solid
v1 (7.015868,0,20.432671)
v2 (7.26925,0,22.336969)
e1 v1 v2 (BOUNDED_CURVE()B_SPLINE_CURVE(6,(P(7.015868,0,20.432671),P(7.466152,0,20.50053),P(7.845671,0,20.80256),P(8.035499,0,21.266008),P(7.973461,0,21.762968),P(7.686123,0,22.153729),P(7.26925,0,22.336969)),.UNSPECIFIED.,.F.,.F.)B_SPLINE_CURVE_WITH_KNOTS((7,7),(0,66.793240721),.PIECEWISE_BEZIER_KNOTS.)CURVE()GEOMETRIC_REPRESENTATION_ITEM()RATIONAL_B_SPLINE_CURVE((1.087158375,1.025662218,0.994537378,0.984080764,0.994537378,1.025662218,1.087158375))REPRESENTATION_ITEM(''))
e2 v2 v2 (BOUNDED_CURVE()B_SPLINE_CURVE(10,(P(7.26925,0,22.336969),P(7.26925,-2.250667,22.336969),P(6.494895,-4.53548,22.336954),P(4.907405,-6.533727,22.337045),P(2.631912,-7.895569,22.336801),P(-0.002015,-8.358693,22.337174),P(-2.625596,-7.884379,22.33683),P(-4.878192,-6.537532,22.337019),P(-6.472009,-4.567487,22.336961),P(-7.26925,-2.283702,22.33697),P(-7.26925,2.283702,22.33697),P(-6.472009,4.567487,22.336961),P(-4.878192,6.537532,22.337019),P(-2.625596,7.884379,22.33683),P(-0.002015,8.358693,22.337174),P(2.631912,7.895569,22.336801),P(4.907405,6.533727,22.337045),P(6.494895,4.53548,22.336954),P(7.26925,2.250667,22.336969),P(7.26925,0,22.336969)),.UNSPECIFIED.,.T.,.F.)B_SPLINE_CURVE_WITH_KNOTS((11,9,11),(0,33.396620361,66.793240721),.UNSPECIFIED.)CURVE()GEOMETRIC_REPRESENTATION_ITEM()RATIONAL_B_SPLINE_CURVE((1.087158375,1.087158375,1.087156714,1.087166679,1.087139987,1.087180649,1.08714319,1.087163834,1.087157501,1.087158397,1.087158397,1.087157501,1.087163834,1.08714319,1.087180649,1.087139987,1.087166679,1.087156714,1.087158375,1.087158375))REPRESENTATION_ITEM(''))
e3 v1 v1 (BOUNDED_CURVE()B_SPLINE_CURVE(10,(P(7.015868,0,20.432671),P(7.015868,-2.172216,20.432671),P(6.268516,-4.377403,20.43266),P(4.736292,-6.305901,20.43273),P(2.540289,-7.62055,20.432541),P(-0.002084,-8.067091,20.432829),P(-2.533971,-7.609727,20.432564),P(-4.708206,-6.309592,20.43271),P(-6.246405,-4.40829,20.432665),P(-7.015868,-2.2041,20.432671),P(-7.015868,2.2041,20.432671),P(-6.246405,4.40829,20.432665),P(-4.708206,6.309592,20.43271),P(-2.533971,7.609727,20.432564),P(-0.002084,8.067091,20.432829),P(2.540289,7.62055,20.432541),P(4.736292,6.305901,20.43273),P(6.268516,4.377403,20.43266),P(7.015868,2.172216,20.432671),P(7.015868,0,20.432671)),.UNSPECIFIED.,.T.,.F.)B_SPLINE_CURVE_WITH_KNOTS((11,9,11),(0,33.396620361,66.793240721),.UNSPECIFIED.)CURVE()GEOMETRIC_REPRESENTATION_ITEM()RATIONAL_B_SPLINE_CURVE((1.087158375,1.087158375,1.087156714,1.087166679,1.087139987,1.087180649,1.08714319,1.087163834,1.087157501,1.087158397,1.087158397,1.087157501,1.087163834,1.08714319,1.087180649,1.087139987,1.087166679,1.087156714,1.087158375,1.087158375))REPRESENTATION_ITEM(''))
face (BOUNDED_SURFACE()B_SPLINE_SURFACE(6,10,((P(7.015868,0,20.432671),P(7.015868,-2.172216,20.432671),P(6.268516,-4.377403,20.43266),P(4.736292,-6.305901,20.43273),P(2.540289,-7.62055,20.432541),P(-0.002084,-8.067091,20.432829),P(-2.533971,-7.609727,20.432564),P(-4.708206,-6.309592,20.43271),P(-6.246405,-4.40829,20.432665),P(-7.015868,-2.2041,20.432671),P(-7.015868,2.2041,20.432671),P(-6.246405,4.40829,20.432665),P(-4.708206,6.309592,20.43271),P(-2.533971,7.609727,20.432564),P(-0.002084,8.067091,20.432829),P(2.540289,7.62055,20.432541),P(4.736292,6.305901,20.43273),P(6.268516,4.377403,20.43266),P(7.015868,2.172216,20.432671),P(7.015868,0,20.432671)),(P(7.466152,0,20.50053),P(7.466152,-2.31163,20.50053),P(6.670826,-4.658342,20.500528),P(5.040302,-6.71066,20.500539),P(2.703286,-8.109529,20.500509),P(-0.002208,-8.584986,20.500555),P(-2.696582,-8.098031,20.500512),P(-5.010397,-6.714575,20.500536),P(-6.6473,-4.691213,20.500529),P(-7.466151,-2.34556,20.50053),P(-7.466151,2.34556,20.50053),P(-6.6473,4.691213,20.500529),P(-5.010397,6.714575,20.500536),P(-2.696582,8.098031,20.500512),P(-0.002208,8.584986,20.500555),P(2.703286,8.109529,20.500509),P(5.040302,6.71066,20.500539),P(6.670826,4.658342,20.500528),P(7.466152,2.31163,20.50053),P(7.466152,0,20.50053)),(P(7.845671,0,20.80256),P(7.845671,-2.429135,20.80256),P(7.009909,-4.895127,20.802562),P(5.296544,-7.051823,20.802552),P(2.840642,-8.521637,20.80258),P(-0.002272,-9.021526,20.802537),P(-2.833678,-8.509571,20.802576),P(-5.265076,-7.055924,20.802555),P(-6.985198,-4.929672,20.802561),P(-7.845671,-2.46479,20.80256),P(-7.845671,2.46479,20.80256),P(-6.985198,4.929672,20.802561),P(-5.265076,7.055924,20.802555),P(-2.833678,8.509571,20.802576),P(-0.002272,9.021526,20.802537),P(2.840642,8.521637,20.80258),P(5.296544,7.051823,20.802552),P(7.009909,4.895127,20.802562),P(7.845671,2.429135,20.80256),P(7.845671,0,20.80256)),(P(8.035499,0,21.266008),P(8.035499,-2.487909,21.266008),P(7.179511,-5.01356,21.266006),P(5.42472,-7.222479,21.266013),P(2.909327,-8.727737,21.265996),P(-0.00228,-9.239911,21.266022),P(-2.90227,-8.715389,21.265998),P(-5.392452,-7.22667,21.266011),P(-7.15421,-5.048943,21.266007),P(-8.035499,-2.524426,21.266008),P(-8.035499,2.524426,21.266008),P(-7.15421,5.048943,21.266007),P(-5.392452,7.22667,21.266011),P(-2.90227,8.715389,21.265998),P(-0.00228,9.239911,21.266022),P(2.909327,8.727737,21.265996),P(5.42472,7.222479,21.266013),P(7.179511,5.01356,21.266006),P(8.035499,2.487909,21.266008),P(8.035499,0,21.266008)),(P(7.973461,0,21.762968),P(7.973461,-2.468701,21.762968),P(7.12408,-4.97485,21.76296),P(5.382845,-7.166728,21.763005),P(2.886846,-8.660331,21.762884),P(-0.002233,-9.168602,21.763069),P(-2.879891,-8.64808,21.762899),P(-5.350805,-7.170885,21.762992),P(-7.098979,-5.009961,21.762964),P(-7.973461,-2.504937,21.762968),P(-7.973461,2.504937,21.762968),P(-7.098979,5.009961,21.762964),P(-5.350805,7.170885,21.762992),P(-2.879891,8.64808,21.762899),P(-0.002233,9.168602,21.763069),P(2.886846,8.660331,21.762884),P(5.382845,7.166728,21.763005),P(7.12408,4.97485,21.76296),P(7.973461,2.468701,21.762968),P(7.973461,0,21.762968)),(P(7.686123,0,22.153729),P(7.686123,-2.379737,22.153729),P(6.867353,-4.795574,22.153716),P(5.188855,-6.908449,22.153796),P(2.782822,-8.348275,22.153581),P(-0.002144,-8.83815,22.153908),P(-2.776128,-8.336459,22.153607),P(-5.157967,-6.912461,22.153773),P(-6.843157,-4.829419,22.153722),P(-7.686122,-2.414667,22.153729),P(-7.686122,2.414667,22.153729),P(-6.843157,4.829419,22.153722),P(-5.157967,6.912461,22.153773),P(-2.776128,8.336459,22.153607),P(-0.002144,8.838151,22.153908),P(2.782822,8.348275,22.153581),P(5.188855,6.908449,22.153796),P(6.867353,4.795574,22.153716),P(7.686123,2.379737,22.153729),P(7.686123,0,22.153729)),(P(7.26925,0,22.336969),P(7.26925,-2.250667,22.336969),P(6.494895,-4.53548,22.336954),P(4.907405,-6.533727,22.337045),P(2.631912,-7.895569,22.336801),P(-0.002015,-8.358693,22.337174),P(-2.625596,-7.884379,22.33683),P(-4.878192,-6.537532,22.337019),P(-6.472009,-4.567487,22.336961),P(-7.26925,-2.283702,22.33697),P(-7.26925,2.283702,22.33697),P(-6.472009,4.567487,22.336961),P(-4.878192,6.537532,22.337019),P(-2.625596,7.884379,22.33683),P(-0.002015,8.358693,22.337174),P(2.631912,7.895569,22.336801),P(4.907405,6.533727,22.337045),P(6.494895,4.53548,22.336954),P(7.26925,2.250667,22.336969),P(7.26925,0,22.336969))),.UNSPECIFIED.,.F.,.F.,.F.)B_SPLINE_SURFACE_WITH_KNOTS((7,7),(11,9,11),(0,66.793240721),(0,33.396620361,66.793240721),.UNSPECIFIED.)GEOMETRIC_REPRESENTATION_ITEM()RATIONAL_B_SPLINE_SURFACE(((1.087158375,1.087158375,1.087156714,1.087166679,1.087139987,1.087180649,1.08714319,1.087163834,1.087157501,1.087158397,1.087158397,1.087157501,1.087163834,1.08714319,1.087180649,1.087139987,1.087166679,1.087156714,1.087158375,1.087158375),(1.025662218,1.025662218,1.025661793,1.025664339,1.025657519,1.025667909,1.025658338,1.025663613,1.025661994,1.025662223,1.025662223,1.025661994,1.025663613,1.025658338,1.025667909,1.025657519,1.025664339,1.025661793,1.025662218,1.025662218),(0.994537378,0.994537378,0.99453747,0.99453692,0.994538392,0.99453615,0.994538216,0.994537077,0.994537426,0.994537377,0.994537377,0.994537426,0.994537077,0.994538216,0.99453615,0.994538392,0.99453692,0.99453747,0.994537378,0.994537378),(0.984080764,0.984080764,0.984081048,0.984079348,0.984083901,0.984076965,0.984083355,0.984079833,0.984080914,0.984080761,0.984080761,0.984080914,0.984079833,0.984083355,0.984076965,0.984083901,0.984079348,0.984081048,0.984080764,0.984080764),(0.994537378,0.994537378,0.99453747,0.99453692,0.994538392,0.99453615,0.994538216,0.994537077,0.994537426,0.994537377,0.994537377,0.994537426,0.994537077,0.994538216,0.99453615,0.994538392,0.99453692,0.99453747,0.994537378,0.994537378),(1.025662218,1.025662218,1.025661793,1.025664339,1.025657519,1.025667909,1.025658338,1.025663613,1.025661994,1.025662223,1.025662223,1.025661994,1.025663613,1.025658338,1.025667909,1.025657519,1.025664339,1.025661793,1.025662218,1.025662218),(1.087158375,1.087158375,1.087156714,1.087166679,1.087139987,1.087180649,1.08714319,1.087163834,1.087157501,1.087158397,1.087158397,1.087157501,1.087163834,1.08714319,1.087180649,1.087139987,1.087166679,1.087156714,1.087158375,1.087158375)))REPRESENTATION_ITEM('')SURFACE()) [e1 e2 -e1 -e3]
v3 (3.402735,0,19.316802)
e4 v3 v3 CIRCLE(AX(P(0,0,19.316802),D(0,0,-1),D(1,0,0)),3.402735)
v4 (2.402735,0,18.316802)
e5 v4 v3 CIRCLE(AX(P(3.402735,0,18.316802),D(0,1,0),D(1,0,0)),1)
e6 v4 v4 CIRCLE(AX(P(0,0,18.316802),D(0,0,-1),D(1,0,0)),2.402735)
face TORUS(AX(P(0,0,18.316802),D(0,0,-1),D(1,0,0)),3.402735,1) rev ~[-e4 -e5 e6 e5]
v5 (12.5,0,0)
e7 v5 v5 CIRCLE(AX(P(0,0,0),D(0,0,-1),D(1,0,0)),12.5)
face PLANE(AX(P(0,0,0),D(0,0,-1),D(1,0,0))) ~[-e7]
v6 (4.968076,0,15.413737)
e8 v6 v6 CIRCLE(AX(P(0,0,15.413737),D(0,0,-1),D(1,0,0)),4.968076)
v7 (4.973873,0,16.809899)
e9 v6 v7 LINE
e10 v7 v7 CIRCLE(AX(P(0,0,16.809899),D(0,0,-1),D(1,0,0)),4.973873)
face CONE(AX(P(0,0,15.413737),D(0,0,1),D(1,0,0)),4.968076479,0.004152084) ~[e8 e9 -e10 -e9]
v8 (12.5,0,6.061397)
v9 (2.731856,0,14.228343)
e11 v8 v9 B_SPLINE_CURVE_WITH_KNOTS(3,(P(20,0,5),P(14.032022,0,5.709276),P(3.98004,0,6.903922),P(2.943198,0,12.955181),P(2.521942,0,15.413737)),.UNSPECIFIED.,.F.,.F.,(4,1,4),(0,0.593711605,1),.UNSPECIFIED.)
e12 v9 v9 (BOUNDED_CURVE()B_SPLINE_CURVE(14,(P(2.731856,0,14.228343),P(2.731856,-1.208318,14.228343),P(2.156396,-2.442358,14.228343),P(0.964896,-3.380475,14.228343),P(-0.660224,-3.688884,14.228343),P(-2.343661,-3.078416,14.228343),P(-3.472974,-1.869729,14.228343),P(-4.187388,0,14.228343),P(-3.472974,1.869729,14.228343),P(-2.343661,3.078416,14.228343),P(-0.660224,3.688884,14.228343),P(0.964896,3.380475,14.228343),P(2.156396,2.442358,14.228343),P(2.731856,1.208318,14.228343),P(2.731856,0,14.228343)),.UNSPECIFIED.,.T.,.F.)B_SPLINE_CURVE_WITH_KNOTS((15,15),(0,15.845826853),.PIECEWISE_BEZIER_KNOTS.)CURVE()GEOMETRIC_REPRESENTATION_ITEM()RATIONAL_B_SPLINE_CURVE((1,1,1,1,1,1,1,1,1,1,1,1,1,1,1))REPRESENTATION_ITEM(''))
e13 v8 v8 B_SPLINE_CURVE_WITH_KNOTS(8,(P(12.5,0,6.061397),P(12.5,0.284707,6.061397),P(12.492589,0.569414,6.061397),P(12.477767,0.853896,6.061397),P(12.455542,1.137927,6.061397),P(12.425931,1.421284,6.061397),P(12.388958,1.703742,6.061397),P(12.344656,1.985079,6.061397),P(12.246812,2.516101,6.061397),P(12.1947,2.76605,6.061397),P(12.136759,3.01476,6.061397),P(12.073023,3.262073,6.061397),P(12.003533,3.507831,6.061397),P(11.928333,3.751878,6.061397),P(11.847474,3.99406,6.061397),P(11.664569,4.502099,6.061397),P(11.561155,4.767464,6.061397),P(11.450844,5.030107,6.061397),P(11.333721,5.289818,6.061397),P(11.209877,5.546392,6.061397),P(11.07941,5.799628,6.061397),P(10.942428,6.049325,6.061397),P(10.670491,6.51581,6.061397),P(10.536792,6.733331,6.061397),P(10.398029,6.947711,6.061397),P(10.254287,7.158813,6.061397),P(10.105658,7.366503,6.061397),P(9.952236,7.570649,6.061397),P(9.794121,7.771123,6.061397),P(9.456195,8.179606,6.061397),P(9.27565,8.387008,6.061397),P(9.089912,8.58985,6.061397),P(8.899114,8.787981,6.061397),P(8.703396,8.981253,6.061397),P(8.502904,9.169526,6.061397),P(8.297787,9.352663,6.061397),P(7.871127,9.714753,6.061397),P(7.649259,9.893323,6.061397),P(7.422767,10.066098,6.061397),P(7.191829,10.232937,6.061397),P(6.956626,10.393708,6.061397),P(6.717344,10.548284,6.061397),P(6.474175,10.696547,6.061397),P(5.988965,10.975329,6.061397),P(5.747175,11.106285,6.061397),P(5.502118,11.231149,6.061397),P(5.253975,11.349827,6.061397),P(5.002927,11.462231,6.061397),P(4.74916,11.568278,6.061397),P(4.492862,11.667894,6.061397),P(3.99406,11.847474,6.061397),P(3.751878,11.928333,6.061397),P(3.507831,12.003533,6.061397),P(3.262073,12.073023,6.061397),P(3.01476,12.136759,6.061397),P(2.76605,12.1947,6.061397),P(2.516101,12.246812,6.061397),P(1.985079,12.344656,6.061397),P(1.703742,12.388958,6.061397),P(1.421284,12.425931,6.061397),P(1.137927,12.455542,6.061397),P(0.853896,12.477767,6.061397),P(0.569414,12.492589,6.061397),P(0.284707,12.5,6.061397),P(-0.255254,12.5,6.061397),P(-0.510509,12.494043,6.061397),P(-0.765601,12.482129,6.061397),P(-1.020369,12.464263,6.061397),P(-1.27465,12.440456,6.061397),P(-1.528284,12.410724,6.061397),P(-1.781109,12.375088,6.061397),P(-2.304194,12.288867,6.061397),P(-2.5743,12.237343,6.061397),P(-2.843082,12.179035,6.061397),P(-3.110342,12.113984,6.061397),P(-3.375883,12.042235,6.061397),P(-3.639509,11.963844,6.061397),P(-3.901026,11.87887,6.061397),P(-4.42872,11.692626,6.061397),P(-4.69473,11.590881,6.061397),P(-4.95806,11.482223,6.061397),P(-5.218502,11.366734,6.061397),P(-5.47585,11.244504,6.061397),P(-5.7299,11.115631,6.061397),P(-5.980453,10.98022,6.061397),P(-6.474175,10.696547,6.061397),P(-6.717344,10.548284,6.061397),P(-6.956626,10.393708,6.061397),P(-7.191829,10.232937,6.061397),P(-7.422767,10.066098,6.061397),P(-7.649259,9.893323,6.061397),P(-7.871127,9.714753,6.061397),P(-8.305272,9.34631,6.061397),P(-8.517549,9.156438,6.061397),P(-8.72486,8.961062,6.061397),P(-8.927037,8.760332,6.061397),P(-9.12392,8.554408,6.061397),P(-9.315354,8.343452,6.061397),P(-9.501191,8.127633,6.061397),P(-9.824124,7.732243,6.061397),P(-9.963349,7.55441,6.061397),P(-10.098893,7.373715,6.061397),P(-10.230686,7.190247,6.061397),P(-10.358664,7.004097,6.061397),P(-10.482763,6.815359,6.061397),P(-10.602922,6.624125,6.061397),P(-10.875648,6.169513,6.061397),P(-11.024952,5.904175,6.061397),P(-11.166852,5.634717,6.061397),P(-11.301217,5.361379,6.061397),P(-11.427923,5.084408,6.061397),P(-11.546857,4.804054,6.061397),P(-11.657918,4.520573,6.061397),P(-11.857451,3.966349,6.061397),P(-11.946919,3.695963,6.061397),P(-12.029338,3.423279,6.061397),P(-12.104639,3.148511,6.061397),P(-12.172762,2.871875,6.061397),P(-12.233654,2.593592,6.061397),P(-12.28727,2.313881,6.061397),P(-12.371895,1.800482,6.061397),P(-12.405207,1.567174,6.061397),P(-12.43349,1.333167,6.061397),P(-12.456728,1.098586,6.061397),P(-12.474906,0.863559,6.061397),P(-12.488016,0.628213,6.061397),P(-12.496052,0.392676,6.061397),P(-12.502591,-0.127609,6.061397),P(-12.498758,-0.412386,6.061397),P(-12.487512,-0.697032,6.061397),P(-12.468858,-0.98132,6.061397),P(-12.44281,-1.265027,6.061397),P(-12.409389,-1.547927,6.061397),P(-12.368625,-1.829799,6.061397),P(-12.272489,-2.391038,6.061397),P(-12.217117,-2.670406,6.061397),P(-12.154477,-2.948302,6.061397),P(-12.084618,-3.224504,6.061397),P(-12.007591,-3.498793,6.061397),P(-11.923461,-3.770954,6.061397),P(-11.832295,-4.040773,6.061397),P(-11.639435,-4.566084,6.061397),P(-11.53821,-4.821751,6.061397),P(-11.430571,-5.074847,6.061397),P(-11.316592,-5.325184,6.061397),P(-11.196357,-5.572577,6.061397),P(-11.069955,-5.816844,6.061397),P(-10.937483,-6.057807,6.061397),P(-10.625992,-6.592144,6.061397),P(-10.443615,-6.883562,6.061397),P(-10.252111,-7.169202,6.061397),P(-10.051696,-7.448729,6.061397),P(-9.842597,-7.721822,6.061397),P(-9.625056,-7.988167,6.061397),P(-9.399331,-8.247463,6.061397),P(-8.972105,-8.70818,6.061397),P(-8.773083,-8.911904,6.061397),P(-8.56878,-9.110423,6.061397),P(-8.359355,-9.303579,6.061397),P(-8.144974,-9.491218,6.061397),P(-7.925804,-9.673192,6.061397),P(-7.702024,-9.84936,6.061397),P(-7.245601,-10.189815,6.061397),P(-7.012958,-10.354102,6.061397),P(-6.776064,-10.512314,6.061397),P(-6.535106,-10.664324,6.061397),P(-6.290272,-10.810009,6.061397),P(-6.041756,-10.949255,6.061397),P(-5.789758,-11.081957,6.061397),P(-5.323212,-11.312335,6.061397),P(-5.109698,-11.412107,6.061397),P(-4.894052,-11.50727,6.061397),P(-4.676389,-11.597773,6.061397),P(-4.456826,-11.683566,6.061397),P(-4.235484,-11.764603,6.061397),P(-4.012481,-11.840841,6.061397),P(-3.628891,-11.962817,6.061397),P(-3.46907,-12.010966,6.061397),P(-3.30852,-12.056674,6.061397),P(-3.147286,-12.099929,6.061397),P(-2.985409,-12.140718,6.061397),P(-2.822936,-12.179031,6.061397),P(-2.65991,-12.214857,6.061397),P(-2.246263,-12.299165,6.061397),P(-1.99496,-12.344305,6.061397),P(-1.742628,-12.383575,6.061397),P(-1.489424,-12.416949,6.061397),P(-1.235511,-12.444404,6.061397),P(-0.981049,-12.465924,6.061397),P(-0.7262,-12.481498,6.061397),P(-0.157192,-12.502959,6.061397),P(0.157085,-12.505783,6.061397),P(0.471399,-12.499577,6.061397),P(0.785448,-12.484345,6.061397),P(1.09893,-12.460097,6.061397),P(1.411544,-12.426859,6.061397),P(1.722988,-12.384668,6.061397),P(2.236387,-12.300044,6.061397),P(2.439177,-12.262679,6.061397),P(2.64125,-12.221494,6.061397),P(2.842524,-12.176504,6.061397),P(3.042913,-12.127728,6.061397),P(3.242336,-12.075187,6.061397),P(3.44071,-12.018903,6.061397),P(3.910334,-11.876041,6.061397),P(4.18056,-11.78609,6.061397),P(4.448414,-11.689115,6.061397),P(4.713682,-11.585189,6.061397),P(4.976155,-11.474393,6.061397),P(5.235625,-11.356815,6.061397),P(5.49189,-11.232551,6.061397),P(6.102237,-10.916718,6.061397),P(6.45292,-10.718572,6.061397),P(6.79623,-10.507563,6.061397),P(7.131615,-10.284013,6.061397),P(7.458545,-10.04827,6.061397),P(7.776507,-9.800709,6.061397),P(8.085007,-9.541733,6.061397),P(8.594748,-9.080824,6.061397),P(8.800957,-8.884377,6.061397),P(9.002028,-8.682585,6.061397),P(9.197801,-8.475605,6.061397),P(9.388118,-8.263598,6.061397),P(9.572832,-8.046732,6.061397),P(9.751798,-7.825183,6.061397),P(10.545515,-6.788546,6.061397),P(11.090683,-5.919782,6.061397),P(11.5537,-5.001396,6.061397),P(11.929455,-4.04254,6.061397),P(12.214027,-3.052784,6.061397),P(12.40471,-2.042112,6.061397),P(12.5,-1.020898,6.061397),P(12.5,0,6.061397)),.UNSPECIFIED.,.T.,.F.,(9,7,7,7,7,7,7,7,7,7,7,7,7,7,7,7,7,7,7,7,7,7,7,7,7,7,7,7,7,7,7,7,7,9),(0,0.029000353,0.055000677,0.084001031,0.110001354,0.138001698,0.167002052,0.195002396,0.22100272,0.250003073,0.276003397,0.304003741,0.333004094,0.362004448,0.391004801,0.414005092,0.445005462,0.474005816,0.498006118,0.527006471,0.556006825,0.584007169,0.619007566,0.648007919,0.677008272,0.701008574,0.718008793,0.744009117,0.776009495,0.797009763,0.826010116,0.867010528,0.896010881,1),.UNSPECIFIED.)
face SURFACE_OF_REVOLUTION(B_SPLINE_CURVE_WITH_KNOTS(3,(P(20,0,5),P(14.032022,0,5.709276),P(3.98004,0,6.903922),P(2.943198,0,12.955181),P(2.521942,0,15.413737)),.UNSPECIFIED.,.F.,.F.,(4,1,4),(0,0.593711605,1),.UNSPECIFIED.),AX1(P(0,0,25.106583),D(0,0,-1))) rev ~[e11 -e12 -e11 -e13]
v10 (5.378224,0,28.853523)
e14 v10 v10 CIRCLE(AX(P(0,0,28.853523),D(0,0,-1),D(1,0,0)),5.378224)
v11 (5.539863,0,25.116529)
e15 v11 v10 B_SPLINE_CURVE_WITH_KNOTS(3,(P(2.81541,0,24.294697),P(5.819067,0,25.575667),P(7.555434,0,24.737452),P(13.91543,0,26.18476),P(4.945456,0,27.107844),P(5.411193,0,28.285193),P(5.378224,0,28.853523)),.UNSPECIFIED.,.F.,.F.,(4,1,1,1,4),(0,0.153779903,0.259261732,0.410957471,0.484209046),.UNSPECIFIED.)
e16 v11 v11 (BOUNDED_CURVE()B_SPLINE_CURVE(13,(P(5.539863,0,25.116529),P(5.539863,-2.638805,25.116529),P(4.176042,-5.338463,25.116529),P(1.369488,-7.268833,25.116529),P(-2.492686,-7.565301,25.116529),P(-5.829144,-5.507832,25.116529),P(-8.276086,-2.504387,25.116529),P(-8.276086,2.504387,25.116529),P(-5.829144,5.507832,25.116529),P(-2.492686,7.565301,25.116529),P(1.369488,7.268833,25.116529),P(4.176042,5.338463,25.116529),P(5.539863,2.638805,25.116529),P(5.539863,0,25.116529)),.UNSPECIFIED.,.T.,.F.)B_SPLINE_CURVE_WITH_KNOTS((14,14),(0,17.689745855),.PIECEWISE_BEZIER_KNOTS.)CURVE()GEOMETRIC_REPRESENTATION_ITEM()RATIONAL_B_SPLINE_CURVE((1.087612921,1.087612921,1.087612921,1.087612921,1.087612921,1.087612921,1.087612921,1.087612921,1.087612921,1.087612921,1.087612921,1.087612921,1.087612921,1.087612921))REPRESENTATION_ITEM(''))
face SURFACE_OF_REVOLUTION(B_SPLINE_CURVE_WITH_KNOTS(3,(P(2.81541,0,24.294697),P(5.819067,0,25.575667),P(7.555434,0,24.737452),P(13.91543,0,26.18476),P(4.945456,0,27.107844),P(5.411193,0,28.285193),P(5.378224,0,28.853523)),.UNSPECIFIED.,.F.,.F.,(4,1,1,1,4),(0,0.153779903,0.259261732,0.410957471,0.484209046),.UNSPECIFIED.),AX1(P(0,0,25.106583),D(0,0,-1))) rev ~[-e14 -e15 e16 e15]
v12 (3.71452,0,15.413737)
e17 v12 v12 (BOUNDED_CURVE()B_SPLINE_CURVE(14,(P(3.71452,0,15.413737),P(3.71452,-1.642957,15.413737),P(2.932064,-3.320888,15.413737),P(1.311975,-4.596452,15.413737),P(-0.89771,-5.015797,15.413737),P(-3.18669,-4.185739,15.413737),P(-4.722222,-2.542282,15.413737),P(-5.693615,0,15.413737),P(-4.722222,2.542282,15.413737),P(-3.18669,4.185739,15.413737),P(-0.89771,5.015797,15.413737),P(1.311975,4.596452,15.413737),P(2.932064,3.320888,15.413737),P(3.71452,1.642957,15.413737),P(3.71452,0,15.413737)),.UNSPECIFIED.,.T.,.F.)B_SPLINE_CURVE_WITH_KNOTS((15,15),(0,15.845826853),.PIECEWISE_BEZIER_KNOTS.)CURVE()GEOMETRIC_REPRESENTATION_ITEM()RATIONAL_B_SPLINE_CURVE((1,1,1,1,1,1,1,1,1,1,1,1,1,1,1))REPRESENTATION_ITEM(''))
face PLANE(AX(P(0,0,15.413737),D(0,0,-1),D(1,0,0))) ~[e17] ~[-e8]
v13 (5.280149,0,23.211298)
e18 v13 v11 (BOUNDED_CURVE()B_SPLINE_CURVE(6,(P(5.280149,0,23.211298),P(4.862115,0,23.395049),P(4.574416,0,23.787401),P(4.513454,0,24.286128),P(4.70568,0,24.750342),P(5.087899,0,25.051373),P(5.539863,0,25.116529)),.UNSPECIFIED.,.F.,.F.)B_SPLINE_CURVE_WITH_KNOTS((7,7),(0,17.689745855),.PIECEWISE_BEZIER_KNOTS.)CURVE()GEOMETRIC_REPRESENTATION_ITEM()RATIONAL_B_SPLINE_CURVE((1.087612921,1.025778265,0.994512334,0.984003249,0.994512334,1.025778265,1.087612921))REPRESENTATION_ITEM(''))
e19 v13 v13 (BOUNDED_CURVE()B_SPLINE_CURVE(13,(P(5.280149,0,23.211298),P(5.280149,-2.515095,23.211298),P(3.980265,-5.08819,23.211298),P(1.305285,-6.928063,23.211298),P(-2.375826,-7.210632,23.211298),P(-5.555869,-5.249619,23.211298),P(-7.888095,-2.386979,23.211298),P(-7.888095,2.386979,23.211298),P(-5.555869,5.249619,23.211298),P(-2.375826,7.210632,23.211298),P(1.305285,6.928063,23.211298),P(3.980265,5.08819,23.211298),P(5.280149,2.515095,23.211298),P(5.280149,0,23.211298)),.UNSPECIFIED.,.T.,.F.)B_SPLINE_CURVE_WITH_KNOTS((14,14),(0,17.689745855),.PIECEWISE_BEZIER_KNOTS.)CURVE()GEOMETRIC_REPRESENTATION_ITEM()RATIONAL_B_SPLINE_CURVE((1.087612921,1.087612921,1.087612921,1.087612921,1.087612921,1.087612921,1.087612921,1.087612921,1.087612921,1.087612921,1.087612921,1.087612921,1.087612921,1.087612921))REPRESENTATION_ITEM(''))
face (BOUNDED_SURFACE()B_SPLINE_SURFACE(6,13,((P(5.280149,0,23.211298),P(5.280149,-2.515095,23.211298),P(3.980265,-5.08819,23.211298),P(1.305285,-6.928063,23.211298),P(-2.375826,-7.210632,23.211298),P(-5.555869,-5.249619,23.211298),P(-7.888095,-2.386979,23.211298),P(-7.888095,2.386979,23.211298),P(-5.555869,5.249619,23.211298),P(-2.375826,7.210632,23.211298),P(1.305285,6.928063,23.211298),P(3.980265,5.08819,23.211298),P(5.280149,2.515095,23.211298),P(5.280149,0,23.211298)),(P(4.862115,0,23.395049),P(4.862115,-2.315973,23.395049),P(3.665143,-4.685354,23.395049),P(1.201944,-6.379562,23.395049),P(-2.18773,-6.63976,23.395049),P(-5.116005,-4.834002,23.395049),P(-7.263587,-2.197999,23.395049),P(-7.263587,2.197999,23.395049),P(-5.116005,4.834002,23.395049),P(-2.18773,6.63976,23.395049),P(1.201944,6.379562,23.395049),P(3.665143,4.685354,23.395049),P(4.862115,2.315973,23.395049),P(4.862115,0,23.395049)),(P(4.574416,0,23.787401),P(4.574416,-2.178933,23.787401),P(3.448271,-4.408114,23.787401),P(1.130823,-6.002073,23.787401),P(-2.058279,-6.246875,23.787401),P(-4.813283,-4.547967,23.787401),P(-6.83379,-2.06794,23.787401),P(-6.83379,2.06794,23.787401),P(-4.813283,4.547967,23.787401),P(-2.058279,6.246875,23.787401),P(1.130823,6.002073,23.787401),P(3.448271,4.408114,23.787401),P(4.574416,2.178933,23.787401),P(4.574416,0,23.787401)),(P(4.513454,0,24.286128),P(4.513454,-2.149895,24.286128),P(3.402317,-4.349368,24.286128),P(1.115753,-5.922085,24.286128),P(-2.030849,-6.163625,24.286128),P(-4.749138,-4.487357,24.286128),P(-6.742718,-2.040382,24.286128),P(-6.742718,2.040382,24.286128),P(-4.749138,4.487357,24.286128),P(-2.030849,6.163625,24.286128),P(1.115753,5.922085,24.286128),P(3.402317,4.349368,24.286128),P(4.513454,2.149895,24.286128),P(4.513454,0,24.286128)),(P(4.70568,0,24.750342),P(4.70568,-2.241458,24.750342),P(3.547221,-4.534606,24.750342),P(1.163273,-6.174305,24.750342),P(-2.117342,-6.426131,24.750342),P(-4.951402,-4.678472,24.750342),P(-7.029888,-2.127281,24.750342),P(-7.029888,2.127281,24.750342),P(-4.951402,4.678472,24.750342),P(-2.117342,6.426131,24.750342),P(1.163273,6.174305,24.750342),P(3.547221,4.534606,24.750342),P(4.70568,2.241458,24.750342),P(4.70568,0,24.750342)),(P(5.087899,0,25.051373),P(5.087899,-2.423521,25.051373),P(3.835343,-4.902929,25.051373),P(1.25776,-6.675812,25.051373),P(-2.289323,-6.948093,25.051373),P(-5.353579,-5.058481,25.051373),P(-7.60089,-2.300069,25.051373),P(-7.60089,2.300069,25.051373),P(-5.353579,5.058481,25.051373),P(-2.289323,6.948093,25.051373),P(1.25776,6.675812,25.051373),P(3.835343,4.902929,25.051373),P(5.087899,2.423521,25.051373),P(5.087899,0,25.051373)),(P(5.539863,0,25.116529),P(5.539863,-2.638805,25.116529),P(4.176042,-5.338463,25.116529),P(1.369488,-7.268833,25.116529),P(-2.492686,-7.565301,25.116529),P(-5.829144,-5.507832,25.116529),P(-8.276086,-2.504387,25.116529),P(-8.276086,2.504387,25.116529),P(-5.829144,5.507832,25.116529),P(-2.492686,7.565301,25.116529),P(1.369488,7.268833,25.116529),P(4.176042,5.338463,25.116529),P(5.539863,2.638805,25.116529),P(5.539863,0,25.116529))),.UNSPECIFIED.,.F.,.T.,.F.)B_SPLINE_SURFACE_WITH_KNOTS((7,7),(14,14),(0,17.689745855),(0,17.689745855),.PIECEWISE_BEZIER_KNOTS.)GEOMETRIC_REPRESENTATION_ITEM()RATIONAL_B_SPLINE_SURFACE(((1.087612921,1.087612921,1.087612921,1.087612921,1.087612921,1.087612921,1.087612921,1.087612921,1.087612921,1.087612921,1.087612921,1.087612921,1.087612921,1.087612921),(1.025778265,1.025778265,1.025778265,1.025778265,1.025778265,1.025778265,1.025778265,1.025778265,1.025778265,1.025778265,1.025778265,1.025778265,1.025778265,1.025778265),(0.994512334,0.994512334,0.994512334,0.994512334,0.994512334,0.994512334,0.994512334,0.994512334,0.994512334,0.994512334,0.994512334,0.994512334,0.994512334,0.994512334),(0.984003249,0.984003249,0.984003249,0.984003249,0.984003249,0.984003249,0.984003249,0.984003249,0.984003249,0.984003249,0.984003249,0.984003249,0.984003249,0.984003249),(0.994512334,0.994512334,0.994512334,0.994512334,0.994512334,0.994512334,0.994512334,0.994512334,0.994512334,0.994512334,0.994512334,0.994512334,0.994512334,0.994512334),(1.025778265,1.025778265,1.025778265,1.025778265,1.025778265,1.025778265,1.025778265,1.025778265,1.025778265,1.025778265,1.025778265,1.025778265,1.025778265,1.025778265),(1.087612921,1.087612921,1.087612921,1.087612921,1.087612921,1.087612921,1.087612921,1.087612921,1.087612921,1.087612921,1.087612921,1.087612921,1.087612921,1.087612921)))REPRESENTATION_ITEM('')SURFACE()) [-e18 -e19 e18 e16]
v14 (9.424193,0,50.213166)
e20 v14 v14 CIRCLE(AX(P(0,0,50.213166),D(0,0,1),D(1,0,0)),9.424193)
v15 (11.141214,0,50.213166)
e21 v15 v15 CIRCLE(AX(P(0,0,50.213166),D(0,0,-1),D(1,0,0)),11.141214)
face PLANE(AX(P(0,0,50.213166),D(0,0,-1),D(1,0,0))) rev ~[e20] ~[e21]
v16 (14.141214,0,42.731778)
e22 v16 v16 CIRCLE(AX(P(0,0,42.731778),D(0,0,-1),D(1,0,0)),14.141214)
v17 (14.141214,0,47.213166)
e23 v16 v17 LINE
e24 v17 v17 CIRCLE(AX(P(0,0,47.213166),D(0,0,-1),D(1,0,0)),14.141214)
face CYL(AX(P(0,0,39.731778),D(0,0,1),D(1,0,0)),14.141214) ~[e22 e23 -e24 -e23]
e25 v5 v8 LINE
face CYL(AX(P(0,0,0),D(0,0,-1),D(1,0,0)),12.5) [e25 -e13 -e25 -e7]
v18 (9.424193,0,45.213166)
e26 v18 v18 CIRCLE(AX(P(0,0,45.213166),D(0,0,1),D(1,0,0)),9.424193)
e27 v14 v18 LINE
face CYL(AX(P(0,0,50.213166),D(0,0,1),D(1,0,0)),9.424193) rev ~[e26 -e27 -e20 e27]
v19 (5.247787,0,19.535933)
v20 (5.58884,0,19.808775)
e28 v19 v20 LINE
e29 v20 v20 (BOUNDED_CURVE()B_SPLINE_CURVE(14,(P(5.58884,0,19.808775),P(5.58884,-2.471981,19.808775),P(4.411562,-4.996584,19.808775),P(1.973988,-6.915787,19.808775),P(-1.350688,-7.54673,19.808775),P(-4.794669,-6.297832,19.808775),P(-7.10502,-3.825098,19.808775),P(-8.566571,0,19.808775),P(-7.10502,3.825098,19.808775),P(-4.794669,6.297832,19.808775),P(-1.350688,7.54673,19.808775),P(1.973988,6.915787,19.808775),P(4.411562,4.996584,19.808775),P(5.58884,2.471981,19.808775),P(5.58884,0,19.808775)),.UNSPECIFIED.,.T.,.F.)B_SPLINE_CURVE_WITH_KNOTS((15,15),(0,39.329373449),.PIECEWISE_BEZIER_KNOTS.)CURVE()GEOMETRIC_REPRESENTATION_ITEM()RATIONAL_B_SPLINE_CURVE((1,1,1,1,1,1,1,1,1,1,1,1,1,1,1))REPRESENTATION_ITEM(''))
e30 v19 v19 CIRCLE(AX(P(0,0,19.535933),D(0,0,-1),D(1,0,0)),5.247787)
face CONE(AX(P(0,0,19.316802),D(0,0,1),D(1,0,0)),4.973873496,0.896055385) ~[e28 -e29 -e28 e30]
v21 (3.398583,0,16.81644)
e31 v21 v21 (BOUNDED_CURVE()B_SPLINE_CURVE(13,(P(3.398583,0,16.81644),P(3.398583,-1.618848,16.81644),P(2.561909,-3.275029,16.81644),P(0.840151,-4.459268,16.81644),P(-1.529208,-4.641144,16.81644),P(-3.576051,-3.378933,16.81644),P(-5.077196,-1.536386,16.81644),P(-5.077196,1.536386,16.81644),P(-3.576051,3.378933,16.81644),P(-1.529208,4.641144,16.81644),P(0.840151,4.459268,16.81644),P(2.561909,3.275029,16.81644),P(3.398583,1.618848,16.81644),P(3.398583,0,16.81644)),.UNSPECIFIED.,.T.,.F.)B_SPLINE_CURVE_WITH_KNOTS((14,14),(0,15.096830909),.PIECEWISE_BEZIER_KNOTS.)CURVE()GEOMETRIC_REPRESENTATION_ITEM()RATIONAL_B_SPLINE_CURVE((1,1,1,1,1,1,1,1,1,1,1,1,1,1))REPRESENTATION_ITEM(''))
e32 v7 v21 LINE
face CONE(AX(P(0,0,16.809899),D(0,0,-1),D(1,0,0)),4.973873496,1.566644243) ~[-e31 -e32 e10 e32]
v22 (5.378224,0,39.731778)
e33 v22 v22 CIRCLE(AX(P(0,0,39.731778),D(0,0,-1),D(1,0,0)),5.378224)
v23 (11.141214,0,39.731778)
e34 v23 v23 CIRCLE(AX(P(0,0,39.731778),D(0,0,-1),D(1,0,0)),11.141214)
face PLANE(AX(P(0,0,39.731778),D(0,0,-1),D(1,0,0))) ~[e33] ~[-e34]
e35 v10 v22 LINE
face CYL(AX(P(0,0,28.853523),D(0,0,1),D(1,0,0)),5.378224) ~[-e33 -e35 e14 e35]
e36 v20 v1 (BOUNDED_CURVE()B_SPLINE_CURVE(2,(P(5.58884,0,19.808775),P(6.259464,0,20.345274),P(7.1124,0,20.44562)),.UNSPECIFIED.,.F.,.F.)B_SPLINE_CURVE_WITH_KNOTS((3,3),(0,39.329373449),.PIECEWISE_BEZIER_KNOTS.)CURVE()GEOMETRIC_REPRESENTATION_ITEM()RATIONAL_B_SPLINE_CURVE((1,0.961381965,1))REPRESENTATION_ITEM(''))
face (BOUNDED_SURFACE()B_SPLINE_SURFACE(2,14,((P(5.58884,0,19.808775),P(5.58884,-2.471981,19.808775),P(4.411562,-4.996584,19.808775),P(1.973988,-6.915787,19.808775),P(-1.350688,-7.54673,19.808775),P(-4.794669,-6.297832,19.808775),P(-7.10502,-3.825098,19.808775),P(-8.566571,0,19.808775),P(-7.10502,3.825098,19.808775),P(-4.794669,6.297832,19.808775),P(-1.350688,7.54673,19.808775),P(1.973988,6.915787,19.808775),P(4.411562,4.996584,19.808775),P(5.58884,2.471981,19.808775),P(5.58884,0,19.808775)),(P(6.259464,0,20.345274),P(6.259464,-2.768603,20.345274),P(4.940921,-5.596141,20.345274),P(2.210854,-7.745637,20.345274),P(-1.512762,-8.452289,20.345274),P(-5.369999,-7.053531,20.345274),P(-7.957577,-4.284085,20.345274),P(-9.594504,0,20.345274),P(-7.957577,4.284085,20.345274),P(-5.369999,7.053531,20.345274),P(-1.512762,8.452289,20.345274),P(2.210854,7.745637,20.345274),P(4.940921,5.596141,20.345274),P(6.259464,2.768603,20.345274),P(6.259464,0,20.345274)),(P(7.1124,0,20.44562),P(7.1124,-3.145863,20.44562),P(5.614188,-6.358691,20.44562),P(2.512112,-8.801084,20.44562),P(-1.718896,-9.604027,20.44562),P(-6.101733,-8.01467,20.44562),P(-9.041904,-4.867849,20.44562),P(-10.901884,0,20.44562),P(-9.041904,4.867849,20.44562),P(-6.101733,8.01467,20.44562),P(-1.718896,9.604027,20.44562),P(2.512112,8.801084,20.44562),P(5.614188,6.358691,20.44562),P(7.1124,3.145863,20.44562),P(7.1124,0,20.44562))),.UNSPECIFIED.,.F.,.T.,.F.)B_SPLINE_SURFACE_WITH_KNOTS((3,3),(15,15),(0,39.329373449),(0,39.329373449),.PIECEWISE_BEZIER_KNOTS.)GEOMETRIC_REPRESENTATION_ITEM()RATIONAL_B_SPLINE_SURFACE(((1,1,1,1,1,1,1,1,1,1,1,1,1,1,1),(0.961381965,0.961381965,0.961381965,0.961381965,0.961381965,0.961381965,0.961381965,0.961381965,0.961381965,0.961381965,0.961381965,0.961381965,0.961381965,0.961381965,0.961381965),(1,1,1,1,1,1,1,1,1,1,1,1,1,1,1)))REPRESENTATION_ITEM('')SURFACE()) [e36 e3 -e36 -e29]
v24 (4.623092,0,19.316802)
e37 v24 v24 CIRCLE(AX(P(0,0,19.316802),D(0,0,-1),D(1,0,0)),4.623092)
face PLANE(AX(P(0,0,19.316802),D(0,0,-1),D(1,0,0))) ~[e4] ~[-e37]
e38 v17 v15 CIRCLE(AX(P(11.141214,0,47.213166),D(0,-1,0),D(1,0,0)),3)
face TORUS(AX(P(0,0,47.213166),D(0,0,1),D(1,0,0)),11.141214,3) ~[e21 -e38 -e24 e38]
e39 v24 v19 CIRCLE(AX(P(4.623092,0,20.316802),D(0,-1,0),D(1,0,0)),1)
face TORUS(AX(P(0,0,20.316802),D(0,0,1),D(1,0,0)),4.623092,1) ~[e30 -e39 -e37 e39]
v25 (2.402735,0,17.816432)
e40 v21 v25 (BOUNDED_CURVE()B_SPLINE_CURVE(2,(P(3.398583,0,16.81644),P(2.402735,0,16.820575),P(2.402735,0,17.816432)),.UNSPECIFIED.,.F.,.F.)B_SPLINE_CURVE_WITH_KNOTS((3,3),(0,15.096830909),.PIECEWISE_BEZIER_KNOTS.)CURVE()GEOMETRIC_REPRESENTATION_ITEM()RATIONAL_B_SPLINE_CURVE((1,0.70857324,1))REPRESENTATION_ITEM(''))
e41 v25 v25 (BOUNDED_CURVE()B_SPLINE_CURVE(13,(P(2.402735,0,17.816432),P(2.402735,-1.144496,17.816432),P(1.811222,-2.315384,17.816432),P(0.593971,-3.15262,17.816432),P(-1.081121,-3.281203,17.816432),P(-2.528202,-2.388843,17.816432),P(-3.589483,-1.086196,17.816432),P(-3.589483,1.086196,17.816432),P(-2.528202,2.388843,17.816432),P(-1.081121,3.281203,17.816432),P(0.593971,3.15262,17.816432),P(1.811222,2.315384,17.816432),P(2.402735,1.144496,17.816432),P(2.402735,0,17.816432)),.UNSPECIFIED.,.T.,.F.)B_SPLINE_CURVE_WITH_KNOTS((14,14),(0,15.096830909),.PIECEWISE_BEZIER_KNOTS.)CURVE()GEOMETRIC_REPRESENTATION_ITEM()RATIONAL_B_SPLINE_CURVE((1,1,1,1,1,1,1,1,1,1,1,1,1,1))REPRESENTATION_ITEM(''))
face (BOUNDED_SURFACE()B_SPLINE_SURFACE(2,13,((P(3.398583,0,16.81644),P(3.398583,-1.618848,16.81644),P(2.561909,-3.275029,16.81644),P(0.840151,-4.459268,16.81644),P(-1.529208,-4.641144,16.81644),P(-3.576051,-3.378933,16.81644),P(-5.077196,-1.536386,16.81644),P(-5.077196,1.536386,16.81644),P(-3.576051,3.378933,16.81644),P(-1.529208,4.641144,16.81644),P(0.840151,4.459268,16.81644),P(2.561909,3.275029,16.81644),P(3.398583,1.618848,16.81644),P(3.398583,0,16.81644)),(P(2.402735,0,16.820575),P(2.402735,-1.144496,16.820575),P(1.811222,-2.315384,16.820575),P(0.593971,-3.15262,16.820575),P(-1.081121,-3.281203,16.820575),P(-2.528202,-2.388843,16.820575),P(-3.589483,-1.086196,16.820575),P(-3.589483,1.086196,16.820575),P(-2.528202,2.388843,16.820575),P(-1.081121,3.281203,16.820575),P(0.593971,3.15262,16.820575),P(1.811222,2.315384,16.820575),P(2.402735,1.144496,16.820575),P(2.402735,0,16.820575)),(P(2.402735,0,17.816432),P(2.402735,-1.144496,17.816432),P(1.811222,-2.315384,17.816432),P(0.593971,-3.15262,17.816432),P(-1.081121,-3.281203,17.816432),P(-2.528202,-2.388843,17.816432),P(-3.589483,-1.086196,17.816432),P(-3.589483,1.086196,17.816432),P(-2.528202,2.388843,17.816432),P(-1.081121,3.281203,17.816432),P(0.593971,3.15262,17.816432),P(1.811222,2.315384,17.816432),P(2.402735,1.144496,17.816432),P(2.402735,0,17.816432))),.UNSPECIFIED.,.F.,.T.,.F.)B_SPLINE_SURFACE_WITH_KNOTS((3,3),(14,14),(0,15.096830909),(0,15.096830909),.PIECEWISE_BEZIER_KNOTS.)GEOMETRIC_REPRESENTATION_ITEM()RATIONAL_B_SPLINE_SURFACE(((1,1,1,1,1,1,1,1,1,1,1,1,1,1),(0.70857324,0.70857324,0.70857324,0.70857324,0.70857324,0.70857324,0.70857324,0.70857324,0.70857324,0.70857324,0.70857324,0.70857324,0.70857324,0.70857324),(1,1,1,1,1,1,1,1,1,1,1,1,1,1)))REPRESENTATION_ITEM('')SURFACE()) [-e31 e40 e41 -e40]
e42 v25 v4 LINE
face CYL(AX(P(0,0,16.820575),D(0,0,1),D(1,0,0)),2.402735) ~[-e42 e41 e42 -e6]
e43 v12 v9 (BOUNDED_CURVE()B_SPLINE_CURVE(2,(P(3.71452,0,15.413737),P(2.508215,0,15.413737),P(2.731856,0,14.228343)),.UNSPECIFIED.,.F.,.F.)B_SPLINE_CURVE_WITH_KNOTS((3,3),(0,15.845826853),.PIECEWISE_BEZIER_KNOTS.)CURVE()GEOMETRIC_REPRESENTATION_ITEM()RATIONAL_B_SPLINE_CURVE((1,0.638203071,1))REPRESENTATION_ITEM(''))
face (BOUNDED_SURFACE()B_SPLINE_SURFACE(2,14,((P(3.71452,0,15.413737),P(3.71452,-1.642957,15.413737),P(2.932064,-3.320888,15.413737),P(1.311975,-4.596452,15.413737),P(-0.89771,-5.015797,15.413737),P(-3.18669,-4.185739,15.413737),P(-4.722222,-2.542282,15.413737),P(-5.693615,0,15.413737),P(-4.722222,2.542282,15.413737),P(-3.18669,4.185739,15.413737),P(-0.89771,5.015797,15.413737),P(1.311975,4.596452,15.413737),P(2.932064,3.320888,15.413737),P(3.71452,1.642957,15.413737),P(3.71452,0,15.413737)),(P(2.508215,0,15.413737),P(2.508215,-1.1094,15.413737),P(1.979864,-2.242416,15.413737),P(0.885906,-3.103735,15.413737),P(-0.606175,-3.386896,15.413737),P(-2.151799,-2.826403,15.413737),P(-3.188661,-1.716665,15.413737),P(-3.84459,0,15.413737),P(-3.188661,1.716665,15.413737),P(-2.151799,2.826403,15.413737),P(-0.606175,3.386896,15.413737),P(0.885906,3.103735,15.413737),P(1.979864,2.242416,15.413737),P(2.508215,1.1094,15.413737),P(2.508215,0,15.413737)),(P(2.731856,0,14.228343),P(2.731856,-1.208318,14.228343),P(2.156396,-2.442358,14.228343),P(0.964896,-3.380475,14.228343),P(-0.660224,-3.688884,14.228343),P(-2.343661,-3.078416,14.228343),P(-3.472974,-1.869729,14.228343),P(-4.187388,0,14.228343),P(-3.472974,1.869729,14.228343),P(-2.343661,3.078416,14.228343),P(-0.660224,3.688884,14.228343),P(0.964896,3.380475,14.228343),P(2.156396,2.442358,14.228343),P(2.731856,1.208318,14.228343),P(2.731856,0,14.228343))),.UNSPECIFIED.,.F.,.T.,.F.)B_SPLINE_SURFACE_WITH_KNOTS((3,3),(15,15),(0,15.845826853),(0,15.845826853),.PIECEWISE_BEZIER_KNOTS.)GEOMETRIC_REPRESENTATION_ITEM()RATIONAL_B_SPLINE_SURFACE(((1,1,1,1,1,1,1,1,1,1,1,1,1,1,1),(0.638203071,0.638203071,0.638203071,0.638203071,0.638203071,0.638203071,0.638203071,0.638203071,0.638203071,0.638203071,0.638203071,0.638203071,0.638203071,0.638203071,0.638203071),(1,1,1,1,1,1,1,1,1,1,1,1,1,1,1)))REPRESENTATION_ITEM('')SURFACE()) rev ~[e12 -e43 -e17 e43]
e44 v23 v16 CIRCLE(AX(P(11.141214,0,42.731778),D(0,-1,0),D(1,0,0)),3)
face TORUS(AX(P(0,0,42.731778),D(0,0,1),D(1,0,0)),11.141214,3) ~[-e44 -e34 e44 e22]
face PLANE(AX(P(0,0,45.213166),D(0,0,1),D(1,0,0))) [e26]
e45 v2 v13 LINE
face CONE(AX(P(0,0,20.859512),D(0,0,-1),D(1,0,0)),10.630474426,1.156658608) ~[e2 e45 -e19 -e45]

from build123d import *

# Parameters (mm, degrees)
F2_R      = 9.4241933099
F3_DEPTH  = 5
F4_R      = 3
F5_R      = 3
F6_R      = 1
F7_R      = 1
F8_R      = 1
F9_R      = 1
F10_R     = 3
F11_R     = 1
F12_R     = 1
F13_R     = 20
F13_R_2   = 12.5
F14_DEPTH = 25


with BuildPart() as f1:
    # F0 (on Front) → F1 (revolve)
    with BuildSketch(Plane.XZ):
        with BuildLine():
            Line((0, 34.7504628913), (0, 0))
            Line((0, 0), (20, 0))
            Line((20, 0), (20, 5))
            add(Edge.make_bspline(
                [(20, 5), (14.032021677, 5.7092755449), (3.9800397459, 6.9039221363), (2.943198313, 12.9551807663), (2.5219416711, 15.4137369245)],
                knots=[0, 0, 0, 0, 0.5937116047, 1, 1, 1, 1], degree=3))
            Line((2.5219416711, 15.4137369245), (4.9680764787, 15.4137369245))
            Line((4.9680764787, 15.4137369245), (4.9738734961, 16.8098993599))
            Line((4.9738734961, 16.8098993599), (2.4027352642, 16.8205750038))
            Line((2.4027352642, 16.8205750038), (2.4027352642, 19.3168018013))
            Line((2.4027352642, 19.3168018013), (4.9738734961, 19.3168018013))
            Line((4.9738734961, 19.3168018013), (6.2594641931, 20.345274359))
            Line((6.2594641931, 20.345274359), (10.6304744259, 20.8595115691))
            Line((10.6304744259, 20.8595115691), (2.8154104948, 24.2946967483))
            add(Edge.make_bspline(
                [(2.8154104948, 24.2946967483), (5.8190665265, 25.5756674082), (7.5554339048, 24.7374522654), (13.9154303818, 26.1847596288), (4.9454555112, 27.1078437763), (5.4111930722, 28.2851931228), (5.3782239556, 28.8535226136)],
                knots=[0, 0, 0, 0, 0.1537799031, 0.259261732, 0.4109574707, 0.4842090456, 0.4842090456, 0.4842090456, 0.4842090456], degree=3))
            add(Edge.make_bspline(
                [(5.3782239556, 28.8535226136), (5.3147552628, 29.9476110709), (4.2454849006, 32.4923576348), (1.123125121, 34.2757409622), (0, 34.7504628913)],
                knots=[0.4842090456, 0.4842090456, 0.4842090456, 0.4842090456, 0.6252253113, 0.6858705401, 0.6858705401, 0.6858705401, 0.6858705401], degree=3))
        make_face()
        with BuildLine():
            Line((0, 50.2131655812), (0, 34.7504628913))
            add(Edge.make_bspline(
                [(5.3782239556, 28.8535226136), (5.3147552628, 29.9476110709), (4.2454849006, 32.4923576348), (1.123125121, 34.2757409622), (0, 34.7504628913)],
                knots=[0.4842090456, 0.4842090456, 0.4842090456, 0.4842090456, 0.6252253113, 0.6858705401, 0.6858705401, 0.6858705401, 0.6858705401], degree=3))
            Line((5.3782239556, 28.8535226136), (5.3782239556, 39.7317782044))
            Line((5.3782239556, 39.7317782044), (14.1412140802, 39.7317782044))
            Line((14.1412140802, 39.7317782044), (14.1412140802, 50.2131655812))
            Line((14.1412140802, 50.2131655812), (0, 50.2131655812))
        make_face()
    revolve(axis=Axis((0, 0, 25.1065827906), (0, 0, -1)))

    # F2 (on face) → F3 (cut)
    with BuildSketch(Plane.XY.offset(50.2131655812)):
        Circle(F2_R)
    extrude(amount=-F3_DEPTH, mode=Mode.SUBTRACT)

    # F4
    f4_edges = [f1.edges().sort_by_distance(p)[0] for p in [
        (-14.141214, 0, 39.731778),
    ]]
    fillet(f4_edges, radius=F4_R)

    # F5
    f5_edges = [f1.edges().sort_by_distance(p)[0] for p in [
        (-14.141214, 0, 50.213166),
    ]]
    fillet(f5_edges, radius=F5_R)

    # F6
    f6_edges = [f1.edges().sort_by_distance(p)[0] for p in [
        (-2.521942, 0, 15.413737),
    ]]
    fillet(f6_edges, radius=F6_R)

    # F7
    f7_edges = [f1.edges().sort_by_distance(p)[0] for p in [
        (-2.402735, 0, 16.820575),
    ]]
    fillet(f7_edges, radius=F7_R)

    # F8
    f8_edges = [f1.edges().sort_by_distance(p)[0] for p in [
        (-2.402735, 0, 19.316802),
    ]]
    fillet(f8_edges, radius=F8_R)

    # F9
    f9_edges = [f1.edges().sort_by_distance(p)[0] for p in [
        (-4.973873, 0, 19.316802),
    ]]
    fillet(f9_edges, radius=F9_R)

    # F10
    f10_edges = [f1.edges().sort_by_distance(p)[0] for p in [
        (-6.259464, 0, 20.345274),
    ]]
    fillet(f10_edges, radius=F10_R)

    # F11
    f11_edges = [f1.edges().sort_by_distance(p)[0] for p in [
        (-10.630474, 0, 20.859512),
    ]]
    fillet(f11_edges, radius=F11_R)

    # F12
    f12_edges = [f1.edges().sort_by_distance(p)[0] for p in [
        (-2.81541, 0, 24.294697),
    ]]
    fillet(f12_edges, radius=F12_R)

    # F13 (on face) → F14 (cut)
    with BuildSketch(Plane(origin=(0, 0, 0), x_dir=(1, 0, 0), z_dir=(0, 0, -1))):
        Circle(F13_R)
        Circle(F13_R_2, mode=Mode.SUBTRACT)
    extrude(amount=-F14_DEPTH, mode=Mode.SUBTRACT)


solid = f1.part
